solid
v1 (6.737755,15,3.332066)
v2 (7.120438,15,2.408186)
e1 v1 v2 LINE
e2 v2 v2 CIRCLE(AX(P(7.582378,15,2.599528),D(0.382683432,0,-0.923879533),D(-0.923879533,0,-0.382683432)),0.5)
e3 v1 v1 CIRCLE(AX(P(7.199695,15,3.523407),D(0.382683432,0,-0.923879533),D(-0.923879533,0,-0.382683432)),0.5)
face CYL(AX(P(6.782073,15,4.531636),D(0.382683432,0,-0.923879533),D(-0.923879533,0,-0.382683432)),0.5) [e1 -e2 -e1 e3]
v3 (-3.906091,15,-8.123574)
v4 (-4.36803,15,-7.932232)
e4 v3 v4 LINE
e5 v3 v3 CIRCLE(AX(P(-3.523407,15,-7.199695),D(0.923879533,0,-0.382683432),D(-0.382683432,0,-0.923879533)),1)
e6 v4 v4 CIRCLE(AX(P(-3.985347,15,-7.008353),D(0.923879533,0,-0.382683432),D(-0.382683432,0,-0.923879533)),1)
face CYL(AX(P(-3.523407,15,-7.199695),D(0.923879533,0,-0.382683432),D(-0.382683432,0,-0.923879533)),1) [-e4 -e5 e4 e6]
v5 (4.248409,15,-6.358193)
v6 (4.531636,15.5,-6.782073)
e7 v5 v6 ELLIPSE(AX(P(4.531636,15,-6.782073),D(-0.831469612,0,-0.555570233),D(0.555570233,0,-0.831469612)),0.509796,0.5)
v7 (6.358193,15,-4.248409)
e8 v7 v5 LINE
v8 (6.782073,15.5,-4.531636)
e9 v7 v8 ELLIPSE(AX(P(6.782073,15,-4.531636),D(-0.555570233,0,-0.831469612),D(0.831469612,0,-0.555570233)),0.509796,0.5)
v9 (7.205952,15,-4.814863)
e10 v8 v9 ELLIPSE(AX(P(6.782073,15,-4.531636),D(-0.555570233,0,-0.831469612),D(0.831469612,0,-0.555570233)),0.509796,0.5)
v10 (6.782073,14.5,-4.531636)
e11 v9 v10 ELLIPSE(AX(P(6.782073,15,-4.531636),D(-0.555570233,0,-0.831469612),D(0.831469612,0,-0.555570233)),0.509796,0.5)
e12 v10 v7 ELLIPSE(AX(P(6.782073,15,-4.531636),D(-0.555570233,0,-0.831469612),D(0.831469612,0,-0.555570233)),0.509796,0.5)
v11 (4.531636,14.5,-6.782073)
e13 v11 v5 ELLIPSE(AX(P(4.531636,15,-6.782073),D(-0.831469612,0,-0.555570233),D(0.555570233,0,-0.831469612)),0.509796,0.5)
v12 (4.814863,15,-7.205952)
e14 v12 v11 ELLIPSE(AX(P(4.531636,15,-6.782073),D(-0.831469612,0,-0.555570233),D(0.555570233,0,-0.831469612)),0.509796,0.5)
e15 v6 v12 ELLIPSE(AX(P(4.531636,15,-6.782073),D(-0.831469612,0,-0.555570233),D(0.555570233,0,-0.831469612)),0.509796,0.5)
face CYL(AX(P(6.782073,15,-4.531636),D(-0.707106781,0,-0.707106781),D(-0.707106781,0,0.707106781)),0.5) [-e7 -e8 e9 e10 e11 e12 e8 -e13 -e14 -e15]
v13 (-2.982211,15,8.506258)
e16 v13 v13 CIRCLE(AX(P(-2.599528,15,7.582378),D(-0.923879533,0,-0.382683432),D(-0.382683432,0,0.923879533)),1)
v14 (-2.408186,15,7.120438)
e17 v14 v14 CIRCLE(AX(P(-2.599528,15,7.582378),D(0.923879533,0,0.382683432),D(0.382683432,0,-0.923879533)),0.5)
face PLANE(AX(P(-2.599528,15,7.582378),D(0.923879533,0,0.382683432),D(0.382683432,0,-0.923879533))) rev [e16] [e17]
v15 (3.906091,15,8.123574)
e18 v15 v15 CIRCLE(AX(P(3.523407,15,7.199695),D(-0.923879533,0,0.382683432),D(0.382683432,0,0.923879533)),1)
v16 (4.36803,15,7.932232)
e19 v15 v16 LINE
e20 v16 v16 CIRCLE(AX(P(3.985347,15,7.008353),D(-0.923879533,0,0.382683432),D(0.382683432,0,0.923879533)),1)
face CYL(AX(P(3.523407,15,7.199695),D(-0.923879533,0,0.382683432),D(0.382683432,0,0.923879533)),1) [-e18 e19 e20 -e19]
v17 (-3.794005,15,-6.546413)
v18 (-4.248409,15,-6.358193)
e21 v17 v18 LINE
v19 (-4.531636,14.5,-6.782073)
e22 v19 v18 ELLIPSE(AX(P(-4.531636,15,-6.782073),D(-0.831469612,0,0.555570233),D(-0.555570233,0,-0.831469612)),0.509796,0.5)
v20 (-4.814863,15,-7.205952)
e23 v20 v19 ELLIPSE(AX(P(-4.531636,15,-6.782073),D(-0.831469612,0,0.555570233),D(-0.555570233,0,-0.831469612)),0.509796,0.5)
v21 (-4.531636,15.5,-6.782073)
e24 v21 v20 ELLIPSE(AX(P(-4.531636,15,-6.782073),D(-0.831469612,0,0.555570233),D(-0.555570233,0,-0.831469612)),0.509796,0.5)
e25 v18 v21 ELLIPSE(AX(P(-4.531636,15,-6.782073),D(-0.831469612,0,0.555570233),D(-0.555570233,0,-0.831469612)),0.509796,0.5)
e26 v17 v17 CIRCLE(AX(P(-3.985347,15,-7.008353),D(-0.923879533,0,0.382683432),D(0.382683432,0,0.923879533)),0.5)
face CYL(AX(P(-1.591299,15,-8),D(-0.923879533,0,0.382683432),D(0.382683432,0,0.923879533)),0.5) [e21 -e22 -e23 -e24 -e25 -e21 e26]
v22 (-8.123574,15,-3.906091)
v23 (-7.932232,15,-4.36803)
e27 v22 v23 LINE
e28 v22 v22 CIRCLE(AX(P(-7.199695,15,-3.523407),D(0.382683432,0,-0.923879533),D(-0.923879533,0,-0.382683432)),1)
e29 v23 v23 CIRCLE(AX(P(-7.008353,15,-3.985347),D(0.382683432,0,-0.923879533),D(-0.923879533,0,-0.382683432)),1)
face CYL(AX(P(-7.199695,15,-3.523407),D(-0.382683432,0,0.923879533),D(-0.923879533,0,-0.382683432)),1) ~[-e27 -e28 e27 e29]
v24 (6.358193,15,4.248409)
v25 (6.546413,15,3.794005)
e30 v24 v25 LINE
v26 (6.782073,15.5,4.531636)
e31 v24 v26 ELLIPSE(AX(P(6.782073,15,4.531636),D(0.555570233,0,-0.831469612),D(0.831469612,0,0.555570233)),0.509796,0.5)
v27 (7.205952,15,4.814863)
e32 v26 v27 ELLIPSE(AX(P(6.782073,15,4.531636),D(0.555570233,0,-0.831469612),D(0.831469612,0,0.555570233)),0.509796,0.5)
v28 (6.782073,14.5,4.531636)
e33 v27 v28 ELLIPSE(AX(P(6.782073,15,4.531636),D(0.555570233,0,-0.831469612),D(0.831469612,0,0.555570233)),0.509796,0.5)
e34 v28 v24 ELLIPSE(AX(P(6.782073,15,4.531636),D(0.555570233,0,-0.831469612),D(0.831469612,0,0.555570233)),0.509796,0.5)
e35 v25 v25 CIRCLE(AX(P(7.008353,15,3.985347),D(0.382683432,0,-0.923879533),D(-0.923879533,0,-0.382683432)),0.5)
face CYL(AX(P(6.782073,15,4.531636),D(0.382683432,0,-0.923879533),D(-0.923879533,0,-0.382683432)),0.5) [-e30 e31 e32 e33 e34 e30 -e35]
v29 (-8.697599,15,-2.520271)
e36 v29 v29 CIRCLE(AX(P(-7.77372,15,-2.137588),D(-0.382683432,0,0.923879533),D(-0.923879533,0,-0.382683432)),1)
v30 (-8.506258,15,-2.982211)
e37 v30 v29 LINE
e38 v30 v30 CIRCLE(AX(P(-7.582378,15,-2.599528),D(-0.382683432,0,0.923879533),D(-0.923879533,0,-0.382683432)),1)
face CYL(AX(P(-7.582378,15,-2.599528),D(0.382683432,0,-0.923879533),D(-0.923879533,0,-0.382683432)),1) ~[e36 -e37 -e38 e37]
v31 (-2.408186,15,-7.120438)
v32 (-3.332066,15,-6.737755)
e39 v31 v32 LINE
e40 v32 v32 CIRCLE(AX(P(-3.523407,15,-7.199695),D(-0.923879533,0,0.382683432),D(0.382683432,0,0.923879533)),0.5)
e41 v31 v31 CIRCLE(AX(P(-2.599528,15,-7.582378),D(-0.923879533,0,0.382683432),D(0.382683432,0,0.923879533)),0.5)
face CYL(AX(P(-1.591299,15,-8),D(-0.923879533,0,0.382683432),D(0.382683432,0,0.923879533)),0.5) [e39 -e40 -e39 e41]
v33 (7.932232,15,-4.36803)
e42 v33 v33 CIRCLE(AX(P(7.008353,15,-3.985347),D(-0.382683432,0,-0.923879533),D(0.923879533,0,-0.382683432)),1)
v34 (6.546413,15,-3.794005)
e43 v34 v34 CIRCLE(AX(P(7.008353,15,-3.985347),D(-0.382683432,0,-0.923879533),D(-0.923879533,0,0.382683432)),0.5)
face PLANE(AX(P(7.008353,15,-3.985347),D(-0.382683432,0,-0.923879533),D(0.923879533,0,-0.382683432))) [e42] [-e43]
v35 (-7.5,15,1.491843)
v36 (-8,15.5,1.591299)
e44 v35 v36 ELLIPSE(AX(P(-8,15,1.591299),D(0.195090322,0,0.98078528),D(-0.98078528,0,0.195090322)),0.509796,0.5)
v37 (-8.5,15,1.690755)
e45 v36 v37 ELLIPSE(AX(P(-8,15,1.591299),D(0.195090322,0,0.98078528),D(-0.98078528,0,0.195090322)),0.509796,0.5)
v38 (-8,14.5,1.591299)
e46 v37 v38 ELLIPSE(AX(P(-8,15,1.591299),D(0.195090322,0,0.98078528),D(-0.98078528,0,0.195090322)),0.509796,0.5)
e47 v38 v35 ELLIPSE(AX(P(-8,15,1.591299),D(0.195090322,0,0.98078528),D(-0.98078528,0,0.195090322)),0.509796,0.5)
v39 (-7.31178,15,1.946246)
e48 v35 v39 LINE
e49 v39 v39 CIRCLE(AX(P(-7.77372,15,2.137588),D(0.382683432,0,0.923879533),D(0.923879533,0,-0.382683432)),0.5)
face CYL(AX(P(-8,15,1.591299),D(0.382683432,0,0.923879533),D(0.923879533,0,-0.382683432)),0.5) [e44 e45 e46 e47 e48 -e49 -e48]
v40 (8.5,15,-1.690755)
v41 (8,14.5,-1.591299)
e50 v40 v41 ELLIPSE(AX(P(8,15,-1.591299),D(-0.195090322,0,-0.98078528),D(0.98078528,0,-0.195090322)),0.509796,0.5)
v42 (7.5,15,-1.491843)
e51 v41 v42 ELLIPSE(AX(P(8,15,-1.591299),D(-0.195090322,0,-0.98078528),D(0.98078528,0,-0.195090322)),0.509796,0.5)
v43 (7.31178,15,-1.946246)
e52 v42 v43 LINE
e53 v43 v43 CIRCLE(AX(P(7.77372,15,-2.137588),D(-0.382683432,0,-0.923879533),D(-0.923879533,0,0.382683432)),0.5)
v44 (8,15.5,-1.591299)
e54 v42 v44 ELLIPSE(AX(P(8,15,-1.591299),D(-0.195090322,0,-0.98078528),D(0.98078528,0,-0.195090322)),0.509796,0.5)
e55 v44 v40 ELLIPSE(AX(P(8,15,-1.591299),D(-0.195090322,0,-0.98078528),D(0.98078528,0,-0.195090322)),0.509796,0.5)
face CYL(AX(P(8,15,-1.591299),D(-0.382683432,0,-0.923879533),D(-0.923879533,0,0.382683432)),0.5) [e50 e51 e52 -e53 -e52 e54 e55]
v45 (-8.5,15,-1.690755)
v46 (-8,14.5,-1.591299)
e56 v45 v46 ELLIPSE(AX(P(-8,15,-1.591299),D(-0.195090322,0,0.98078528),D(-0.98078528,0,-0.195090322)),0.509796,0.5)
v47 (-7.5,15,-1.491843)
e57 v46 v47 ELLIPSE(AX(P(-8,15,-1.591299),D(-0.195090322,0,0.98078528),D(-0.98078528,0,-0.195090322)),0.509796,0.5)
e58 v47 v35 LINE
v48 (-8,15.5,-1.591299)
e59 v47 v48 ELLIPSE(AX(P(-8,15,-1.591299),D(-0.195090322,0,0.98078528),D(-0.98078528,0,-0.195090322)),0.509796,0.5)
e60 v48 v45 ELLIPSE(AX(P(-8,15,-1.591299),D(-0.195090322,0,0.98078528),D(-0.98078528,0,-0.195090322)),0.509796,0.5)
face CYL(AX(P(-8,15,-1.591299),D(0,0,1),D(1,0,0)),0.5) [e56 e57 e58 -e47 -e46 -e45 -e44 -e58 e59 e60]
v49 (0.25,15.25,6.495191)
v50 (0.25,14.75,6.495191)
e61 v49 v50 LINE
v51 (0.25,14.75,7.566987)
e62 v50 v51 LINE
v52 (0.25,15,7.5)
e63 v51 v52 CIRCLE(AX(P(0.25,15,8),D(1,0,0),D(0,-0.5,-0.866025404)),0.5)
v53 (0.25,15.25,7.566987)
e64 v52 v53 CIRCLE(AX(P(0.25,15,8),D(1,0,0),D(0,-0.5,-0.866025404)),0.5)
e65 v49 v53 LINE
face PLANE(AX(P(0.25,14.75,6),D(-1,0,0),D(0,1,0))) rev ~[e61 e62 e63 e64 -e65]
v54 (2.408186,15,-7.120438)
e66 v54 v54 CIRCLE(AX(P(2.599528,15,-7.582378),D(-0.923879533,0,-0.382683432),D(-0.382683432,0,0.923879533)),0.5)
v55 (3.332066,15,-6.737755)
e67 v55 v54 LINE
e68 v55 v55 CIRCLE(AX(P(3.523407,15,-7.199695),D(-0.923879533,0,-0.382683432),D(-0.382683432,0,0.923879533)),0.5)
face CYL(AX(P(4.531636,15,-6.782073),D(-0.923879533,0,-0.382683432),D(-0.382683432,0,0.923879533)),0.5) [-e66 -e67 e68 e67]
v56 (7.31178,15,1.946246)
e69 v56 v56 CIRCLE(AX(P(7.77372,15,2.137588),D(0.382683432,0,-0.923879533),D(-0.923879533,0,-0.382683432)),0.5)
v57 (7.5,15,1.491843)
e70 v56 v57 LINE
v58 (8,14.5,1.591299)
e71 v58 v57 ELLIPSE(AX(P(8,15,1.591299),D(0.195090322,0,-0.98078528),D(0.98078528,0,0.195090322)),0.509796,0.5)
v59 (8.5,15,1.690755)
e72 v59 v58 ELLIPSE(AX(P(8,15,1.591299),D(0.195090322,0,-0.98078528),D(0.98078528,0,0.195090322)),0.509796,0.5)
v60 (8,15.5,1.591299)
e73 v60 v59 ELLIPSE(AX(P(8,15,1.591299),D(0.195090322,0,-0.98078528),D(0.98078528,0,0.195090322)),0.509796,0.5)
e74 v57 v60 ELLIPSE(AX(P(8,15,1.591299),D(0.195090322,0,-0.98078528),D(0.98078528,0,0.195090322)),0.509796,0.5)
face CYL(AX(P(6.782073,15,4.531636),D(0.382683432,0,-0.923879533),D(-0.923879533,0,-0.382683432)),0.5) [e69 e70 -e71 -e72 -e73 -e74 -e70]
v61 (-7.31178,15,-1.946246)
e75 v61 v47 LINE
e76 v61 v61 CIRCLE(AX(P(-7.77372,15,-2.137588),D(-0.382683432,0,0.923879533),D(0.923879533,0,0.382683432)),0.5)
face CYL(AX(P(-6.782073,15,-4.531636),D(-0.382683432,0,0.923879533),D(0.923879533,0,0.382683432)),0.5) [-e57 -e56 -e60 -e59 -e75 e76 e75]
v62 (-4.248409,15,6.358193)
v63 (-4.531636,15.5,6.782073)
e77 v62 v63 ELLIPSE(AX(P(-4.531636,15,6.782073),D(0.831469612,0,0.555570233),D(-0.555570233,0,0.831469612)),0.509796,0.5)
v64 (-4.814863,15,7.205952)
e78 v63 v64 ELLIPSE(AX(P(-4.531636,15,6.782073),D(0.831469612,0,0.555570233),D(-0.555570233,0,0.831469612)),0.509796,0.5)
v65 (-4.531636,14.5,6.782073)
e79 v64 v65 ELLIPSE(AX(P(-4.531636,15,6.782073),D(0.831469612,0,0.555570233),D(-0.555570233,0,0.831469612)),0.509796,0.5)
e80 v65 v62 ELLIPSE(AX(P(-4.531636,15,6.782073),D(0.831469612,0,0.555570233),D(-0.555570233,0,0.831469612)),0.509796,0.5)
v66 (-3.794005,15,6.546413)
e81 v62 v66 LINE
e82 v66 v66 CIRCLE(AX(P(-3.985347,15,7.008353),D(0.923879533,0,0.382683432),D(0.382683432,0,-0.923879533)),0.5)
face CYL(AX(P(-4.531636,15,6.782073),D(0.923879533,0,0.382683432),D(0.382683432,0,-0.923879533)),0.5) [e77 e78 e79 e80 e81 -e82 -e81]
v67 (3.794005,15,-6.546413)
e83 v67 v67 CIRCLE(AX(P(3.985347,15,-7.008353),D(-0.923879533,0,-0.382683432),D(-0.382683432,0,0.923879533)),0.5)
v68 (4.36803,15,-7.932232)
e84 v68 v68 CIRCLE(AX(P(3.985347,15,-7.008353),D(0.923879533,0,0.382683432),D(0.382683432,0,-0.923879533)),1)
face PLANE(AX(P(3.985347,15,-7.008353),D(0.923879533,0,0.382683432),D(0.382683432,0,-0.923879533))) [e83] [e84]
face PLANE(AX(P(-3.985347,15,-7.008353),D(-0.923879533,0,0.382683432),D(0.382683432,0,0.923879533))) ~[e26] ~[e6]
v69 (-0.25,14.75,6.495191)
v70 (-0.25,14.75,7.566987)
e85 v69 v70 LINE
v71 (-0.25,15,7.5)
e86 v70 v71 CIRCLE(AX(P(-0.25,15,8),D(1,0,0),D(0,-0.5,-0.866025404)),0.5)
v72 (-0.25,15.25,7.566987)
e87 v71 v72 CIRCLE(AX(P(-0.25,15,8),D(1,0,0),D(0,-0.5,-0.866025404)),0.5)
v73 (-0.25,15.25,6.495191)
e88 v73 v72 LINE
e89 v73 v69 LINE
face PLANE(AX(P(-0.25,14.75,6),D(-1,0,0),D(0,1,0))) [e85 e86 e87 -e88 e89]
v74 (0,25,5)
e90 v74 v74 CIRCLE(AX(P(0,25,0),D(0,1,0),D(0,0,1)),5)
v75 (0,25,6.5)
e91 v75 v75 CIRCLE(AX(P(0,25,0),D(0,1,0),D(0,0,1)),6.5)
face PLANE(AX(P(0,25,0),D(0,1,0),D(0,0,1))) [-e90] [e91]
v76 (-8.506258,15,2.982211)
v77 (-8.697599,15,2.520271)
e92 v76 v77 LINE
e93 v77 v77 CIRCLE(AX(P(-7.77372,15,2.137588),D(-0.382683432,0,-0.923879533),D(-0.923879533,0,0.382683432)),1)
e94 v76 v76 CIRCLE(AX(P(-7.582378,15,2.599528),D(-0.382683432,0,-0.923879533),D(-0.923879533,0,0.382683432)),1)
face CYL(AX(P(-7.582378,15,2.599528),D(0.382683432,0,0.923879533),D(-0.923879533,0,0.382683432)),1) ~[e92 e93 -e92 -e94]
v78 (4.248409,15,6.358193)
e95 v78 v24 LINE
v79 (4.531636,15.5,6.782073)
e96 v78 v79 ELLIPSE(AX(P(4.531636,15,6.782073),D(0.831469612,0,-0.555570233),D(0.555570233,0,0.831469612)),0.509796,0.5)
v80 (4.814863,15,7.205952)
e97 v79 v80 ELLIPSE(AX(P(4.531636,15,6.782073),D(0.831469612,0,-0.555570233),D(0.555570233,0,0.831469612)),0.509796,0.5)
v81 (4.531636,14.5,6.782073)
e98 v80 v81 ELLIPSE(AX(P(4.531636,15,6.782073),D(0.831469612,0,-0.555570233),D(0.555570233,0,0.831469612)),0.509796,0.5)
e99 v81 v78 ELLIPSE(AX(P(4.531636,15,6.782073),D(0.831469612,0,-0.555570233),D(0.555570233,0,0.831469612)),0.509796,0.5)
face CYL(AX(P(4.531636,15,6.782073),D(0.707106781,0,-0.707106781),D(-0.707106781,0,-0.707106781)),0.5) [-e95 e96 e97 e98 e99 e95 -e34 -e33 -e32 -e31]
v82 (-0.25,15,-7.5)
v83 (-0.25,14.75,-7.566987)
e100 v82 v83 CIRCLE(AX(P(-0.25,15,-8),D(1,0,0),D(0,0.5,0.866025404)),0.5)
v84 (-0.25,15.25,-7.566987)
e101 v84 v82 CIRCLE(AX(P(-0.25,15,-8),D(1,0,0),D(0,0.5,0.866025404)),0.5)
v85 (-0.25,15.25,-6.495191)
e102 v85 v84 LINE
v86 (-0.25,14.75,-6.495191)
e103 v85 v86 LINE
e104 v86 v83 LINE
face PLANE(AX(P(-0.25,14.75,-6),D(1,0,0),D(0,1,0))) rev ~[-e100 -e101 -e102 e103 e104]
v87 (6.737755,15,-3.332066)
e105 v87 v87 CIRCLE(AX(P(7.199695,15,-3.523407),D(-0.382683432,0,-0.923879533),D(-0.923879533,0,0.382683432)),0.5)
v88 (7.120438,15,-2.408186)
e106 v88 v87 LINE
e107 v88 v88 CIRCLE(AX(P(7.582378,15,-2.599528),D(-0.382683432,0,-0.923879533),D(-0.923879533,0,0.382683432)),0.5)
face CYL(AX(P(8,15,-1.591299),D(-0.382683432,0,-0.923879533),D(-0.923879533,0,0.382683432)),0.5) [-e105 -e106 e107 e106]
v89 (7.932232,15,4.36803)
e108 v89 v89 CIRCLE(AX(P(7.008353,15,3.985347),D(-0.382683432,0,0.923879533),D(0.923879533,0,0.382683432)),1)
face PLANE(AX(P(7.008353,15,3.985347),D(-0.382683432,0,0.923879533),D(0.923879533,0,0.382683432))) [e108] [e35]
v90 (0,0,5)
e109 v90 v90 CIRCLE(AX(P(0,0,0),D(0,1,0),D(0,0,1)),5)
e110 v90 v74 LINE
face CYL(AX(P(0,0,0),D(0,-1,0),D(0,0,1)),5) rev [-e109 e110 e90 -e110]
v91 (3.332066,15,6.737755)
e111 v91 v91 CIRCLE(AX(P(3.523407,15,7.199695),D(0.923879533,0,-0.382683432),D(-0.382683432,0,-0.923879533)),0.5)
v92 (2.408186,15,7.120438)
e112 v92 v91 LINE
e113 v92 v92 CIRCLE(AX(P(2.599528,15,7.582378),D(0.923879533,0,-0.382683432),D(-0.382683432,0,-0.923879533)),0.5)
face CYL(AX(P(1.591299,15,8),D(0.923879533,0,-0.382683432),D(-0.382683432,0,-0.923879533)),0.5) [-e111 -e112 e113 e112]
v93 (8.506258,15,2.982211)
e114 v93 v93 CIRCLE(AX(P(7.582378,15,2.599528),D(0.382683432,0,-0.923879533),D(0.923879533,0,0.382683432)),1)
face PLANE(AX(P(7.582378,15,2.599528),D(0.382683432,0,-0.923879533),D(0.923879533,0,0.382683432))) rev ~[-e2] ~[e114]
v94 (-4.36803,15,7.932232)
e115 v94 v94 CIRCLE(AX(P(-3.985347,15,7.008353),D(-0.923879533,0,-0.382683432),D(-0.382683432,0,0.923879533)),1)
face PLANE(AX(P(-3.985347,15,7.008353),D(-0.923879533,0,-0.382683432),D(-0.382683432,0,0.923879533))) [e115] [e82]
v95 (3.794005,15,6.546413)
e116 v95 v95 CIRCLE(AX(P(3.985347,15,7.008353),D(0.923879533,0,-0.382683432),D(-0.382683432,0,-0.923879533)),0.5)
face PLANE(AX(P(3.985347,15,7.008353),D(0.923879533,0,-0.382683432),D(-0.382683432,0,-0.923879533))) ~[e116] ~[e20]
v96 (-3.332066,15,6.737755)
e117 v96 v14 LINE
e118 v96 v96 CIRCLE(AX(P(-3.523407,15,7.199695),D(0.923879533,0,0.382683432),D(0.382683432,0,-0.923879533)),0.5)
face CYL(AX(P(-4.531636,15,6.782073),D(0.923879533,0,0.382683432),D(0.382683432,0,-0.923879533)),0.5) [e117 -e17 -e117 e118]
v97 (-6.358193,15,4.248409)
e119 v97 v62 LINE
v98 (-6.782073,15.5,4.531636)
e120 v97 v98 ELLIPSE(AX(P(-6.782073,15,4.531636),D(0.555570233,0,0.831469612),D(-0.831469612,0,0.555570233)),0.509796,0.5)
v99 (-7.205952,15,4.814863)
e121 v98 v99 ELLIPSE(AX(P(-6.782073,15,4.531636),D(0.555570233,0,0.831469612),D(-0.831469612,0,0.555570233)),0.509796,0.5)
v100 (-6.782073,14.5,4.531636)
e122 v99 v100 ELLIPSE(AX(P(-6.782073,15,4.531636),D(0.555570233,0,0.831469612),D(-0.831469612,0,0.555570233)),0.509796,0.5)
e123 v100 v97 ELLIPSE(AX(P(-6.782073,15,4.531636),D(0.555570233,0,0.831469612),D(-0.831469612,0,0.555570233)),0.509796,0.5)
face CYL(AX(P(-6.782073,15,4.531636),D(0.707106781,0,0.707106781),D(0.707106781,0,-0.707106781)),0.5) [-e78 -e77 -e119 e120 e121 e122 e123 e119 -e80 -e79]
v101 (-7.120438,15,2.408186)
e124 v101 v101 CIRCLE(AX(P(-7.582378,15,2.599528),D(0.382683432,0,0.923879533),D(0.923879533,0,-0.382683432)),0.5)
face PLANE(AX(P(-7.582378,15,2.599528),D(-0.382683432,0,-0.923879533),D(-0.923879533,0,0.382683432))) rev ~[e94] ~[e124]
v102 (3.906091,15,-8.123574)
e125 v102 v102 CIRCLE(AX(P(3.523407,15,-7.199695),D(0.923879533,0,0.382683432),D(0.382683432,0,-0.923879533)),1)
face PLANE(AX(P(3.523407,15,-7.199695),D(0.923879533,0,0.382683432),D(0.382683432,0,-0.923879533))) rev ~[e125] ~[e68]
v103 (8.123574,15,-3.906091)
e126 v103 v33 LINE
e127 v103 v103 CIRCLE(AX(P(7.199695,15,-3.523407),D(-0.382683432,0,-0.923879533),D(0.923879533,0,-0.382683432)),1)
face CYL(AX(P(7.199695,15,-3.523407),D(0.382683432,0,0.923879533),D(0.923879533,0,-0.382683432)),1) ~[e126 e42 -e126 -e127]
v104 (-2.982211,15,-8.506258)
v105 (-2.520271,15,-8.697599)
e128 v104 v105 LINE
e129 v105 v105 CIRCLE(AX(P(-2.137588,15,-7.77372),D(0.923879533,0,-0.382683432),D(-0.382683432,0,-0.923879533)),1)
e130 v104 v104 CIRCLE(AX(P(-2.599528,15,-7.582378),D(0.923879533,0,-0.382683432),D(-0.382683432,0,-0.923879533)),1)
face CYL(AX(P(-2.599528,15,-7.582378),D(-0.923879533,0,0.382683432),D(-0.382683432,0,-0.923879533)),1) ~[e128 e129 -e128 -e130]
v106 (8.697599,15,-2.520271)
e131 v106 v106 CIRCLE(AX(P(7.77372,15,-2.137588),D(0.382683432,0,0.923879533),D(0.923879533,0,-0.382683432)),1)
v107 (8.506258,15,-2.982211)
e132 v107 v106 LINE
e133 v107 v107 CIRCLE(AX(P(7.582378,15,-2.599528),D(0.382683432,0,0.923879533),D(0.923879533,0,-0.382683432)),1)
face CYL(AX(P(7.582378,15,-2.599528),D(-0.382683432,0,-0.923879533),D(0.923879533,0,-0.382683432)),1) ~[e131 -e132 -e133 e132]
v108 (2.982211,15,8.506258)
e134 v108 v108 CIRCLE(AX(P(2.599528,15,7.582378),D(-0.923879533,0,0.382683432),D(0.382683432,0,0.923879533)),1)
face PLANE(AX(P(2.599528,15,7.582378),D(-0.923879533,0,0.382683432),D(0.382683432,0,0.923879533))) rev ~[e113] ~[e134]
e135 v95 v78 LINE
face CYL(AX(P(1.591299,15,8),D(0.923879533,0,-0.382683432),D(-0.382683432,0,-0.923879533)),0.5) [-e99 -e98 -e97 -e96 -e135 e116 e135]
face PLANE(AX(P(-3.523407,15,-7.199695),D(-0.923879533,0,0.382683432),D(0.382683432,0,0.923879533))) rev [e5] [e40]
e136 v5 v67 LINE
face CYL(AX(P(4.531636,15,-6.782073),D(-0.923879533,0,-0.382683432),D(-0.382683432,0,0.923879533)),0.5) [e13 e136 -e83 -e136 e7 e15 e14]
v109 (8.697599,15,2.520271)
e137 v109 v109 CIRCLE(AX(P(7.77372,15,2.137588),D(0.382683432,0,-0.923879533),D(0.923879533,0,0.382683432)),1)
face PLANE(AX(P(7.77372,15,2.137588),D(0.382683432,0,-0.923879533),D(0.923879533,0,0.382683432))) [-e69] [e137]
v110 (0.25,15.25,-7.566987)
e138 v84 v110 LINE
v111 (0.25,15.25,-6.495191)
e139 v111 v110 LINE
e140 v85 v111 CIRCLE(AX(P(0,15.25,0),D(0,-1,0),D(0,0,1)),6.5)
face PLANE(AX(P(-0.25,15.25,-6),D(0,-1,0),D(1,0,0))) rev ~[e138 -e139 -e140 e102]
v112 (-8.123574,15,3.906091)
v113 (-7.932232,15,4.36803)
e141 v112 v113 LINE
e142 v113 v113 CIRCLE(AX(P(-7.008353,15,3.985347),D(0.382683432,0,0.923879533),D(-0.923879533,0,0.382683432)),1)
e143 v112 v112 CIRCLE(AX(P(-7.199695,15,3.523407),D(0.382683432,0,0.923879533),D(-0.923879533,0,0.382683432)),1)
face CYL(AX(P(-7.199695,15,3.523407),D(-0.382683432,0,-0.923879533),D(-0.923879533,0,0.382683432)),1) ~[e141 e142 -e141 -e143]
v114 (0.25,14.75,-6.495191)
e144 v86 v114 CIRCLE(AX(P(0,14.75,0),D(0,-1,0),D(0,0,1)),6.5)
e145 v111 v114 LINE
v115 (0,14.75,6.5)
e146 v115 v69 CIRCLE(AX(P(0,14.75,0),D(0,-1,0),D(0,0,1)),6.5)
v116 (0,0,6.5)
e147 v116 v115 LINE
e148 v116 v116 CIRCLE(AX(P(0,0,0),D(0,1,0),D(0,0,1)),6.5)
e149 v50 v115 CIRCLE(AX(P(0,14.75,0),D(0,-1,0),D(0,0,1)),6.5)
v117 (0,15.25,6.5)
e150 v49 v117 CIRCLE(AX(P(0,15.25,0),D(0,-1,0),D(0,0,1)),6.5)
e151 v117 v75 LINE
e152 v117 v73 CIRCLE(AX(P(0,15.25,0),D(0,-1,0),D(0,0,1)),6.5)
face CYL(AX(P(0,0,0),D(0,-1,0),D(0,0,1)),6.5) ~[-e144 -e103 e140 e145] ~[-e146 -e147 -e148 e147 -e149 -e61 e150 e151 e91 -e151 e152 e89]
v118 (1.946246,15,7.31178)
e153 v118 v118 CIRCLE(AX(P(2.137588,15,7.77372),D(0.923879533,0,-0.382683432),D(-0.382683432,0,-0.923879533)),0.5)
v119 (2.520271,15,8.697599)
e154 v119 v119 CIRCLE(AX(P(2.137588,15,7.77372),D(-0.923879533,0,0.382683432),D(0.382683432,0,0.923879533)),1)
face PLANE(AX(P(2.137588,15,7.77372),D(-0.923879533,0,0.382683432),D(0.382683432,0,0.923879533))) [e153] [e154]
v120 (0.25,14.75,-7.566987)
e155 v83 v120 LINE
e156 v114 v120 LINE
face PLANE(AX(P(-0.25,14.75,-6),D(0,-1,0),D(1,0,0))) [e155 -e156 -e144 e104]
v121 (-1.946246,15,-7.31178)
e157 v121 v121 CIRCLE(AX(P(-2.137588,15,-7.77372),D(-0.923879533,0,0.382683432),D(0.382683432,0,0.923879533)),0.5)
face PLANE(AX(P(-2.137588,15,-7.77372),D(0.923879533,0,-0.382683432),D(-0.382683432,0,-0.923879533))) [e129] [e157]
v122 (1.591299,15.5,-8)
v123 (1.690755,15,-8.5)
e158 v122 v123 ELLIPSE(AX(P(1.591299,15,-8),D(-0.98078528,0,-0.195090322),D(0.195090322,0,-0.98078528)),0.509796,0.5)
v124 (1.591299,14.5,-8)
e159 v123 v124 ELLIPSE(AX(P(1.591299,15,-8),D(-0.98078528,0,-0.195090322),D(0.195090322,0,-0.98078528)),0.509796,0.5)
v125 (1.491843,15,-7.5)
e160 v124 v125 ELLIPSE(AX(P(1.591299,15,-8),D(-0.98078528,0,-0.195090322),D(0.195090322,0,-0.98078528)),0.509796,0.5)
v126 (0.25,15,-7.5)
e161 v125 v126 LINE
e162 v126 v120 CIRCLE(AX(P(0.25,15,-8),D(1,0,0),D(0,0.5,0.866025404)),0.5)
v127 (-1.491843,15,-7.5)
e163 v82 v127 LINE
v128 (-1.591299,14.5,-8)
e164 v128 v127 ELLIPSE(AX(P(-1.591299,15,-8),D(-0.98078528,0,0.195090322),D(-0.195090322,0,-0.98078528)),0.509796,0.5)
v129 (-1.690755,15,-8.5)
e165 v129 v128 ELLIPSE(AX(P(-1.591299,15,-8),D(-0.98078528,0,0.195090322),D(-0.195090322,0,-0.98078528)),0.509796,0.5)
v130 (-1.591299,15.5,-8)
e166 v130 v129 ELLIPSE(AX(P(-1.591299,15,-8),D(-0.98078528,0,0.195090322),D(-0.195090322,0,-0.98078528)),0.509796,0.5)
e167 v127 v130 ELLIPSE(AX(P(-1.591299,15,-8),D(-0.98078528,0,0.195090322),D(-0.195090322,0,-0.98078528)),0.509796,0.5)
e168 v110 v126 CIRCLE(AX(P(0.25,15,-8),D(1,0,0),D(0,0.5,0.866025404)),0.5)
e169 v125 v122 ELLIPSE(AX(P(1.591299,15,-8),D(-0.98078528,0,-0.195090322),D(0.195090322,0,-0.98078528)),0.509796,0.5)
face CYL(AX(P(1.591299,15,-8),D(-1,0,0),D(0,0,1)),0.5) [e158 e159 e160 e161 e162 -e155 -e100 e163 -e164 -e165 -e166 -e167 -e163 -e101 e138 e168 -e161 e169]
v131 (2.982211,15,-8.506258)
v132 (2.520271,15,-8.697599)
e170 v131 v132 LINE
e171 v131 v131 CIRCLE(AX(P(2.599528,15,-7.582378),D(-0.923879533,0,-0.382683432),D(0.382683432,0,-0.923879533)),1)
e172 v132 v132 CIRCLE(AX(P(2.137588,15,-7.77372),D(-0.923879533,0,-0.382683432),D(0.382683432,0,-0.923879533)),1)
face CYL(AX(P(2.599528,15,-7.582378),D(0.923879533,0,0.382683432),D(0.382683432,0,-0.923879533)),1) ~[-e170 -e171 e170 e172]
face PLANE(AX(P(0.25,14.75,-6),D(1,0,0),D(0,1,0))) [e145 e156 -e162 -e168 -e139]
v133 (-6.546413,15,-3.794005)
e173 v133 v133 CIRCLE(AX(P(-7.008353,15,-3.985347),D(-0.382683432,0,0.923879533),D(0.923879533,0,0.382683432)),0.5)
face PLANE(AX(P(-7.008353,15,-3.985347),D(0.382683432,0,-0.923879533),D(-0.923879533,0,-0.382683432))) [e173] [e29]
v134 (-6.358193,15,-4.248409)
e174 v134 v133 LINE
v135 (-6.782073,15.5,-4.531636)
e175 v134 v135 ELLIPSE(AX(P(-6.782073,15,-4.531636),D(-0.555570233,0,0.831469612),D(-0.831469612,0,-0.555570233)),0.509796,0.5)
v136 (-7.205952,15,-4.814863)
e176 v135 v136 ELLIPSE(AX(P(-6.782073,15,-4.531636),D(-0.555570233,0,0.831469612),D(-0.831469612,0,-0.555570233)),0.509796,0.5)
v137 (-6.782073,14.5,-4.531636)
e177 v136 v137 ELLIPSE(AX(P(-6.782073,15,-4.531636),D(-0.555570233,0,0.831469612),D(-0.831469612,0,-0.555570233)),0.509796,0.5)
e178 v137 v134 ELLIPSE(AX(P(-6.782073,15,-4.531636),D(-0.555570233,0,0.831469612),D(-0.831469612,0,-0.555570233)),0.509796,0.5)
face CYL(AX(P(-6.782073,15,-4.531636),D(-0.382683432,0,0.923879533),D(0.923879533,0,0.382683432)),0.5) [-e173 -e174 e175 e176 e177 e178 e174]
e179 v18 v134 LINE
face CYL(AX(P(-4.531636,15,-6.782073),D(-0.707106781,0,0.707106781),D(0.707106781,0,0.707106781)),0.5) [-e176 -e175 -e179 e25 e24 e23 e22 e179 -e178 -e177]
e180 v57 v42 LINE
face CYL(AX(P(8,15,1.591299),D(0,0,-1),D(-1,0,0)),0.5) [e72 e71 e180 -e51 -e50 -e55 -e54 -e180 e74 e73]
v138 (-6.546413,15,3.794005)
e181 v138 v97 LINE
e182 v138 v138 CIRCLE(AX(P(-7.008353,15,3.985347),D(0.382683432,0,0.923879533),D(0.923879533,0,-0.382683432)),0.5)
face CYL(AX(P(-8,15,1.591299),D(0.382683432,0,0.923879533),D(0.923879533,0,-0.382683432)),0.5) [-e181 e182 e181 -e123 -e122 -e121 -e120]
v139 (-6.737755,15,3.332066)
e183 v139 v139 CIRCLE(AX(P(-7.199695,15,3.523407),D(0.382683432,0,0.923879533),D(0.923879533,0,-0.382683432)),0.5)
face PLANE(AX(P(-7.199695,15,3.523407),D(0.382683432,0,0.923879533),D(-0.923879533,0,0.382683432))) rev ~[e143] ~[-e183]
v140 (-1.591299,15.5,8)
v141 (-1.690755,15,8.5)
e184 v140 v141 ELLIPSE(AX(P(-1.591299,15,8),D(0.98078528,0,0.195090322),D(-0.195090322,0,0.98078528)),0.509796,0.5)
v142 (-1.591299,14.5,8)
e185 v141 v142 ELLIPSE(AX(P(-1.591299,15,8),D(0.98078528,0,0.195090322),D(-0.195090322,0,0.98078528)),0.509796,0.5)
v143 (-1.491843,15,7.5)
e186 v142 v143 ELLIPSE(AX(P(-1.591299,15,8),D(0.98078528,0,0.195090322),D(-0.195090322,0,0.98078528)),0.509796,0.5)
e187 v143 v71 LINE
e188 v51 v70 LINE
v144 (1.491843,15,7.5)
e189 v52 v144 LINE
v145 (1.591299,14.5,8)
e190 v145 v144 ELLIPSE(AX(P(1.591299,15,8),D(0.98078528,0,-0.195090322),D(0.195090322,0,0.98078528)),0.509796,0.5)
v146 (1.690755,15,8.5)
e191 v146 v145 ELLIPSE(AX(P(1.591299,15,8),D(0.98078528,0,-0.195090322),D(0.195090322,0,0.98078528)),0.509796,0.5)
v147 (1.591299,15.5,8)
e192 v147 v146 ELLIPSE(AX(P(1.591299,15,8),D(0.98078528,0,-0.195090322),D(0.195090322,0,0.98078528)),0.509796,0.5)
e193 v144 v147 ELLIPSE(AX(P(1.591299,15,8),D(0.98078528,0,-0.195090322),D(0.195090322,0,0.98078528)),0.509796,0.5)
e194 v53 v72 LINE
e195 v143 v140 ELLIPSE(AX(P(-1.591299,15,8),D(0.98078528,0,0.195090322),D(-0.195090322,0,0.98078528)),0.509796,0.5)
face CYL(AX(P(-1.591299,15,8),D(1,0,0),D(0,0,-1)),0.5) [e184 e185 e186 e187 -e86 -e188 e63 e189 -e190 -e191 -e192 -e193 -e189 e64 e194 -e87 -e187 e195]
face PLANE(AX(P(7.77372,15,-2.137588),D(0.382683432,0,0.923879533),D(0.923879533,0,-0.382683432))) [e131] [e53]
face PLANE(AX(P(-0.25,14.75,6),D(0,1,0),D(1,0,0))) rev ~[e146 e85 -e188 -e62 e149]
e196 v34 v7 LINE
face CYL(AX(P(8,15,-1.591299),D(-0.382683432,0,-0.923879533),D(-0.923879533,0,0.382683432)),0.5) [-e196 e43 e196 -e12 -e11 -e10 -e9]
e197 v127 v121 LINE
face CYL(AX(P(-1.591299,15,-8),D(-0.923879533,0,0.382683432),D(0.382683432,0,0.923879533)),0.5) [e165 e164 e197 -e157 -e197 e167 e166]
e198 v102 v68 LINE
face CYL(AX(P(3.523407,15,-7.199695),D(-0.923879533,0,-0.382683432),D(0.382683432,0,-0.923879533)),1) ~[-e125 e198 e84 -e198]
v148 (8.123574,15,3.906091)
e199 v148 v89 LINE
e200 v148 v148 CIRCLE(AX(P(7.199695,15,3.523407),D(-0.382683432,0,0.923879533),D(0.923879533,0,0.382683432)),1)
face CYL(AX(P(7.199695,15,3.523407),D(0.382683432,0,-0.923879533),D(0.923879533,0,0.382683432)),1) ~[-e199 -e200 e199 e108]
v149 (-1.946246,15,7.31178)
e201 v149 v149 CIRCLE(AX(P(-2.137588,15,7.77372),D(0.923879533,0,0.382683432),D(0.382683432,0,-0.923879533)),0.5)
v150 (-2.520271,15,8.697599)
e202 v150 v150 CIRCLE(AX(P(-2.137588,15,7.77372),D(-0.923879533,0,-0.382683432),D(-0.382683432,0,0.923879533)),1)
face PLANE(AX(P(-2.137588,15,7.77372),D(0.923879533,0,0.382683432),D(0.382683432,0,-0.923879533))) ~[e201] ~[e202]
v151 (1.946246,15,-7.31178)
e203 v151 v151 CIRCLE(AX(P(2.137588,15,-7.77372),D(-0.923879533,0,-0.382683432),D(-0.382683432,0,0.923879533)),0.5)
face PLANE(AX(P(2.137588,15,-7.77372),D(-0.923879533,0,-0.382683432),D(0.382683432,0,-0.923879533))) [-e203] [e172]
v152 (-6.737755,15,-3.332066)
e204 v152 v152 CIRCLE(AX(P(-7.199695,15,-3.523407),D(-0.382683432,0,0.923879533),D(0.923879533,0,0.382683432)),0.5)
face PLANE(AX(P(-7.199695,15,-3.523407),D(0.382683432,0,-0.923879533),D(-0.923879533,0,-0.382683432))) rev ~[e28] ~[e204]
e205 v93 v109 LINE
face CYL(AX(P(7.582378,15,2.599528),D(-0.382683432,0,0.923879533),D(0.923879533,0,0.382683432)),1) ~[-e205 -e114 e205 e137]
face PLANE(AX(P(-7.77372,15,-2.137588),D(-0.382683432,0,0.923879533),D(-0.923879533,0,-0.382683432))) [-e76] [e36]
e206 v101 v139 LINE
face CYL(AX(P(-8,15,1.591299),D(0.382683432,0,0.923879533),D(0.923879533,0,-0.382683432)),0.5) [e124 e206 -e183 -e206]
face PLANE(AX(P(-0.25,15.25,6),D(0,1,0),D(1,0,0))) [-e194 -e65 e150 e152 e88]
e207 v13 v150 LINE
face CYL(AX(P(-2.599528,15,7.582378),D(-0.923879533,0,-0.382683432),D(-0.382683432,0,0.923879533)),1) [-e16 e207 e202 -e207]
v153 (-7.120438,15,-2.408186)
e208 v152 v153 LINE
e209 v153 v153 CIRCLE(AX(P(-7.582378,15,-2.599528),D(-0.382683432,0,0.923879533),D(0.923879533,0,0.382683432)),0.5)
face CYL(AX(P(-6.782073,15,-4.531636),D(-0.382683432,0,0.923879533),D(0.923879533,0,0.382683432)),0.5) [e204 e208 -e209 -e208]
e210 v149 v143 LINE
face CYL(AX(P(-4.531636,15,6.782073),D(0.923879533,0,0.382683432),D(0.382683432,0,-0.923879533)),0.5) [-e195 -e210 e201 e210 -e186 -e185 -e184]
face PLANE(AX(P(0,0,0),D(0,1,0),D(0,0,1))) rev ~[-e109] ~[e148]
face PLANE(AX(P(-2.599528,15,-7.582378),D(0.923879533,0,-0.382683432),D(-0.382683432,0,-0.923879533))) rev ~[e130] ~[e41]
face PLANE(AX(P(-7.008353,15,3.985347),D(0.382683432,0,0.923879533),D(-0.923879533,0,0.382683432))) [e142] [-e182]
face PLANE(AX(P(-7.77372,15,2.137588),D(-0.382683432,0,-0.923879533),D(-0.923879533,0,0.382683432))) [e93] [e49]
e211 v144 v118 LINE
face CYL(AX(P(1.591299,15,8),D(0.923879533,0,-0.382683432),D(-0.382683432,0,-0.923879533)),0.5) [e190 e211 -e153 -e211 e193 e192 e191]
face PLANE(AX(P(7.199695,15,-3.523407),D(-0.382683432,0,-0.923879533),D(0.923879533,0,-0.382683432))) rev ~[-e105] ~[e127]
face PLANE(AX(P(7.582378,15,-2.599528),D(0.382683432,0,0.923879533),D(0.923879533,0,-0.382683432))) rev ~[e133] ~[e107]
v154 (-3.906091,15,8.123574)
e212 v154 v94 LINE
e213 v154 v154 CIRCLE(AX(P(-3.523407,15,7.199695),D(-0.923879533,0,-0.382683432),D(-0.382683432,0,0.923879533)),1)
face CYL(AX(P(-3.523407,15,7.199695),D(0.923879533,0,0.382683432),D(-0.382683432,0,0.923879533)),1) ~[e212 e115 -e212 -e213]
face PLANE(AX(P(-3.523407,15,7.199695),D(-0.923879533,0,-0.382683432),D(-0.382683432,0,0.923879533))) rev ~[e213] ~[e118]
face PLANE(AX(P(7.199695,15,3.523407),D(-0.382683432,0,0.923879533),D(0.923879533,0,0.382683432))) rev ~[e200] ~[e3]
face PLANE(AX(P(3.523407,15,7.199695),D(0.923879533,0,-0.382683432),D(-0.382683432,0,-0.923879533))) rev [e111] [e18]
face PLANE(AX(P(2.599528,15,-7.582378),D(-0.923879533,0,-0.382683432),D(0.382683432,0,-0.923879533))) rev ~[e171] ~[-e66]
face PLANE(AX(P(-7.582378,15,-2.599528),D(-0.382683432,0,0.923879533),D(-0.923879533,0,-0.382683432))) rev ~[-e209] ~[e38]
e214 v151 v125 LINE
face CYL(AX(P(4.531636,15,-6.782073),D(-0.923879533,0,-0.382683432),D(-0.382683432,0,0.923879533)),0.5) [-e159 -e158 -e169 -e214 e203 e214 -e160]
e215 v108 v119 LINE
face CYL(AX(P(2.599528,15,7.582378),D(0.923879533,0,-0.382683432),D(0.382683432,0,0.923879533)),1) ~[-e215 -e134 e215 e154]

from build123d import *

# Parameters (mm, degrees)
CROQUIS1_R                   = 6.5
CROQUIS1_R_2                 = 5
SALIENTE_EXTRUIR1_DEPTH      = 25
CROQUIS3_R                   = 0.5
SALIENTE_EXTRUIR2_REACH      = 32.125
SALIENTE_EXTRUIR2_END_RADIUS = 0.5
CROQUIS4_W                   = 0.5
CROQUIS4_H                   = 0.5
SALIENTE_EXTRUIR3_REACH      = 32.125
SALIENTE_EXTRUIR3_END_RADIUS = 0.5
CROQUIS6_W                   = 0.5
CROQUIS6_H                   = 0.5
CROQUIS9_R                   = 1
SALIENTE_EXTRUIR4_DEPTH      = 0.5
SIMETR_A2_COPY_1_SKETCH_R    = 1
SIMETR_A2_COPY_1_DEPTH       = 0.5
SIMETR_A3_COPY_1_SKETCH_R    = 1
SIMETR_A3_COPY_1_DEPTH       = 0.5
SIMETR_A3_COPY_2_SKETCH_R    = 1
SIMETR_A3_COPY_2_DEPTH       = 0.5
SIMETR_A3_COPY_3_SKETCH_R    = 1
SIMETR_A3_COPY_3_DEPTH       = 0.5
SIMETR_A4_COPY_1_SKETCH_R    = 1
SIMETR_A4_COPY_1_DEPTH       = 0.5
SIMETR_A4_COPY_2_SKETCH_R    = 1
SIMETR_A4_COPY_2_DEPTH       = 0.5
SIMETR_A4_COPY_3_SKETCH_R    = 1
SIMETR_A4_COPY_3_DEPTH       = 0.5
SIMETR_A4_COPY_4_SKETCH_R    = 1
SIMETR_A4_COPY_4_DEPTH       = 0.5
SIMETR_A4_COPY_5_SKETCH_R    = 1
SIMETR_A4_COPY_5_DEPTH       = 0.5
SIMETR_A4_COPY_6_SKETCH_R    = 1
SIMETR_A4_COPY_6_DEPTH       = 0.5
SIMETR_A4_COPY_7_SKETCH_R    = 1
SIMETR_A4_COPY_7_DEPTH       = 0.5
SIMETR_A4_COPY_8_SKETCH_R    = 1
SIMETR_A4_COPY_8_DEPTH       = 0.5
SIMETR_A5_COPY_1_SKETCH_R    = 1
SIMETR_A5_COPY_1_DEPTH       = 0.5
SIMETR_A5_COPY_2_SKETCH_R    = 1
SIMETR_A5_COPY_2_DEPTH       = 0.5
SIMETR_A5_COPY_3_SKETCH_R    = 1
SIMETR_A5_COPY_3_DEPTH       = 0.5
SIMETR_A5_COPY_4_SKETCH_R    = 1
SIMETR_A5_COPY_4_DEPTH       = 0.5
SIMETR_A5_COPY_5_SKETCH_R    = 1
SIMETR_A5_COPY_5_DEPTH       = 0.5
SIMETR_A5_COPY_6_SKETCH_R    = 1
SIMETR_A5_COPY_6_DEPTH       = 0.5
SIMETR_A5_COPY_7_SKETCH_R    = 1
SIMETR_A5_COPY_7_DEPTH       = 0.5
SIMETR_A5_COPY_8_SKETCH_R    = 1
SIMETR_A5_COPY_8_DEPTH       = 0.5
SIMETR_A5_COPY_9_SKETCH_R    = 1
SIMETR_A5_COPY_9_DEPTH       = 0.5


with BuildPart() as part:
    # Croquis1 → Saliente-Extruir1 (new body)
    with BuildSketch(Plane(origin=(0, 0, 0), x_dir=(1, 0, 0), z_dir=(0, 1, 0))):
        with Locations(Location((0, 0, 0), (0, 0, 270))):
            Circle(CROQUIS1_R)
        with Locations(Location((0, 0, 0), (0, 0, 270))):
            Circle(CROQUIS1_R_2, mode=Mode.SUBTRACT)
    extrude(amount=SALIENTE_EXTRUIR1_DEPTH)



with BuildPart() as body_2:
    # Barrer1: sweep along a path in Croquis2
    with BuildLine(Plane(origin=(0, 15, 0), x_dir=(1, 0, 0), z_dir=(0, 1, 0))) as barrer1_path:
        Line((-4.531635979, -6.78207252), (-1.591298939, -8))
        Line((-1.591298939, -8), (1.591298939, -8))
        Line((1.591298939, -8), (4.531635979, -6.78207252))
        Line((4.531635979, -6.78207252), (6.78207252, -4.531635979))
        Line((6.78207252, -4.531635979), (8, -1.591298939))
        Line((8, -1.591298939), (8, 1.591298939))
        Line((8, 1.591298939), (6.78207252, 4.531635979))
        Line((6.78207252, 4.531635979), (4.531635979, 6.78207252))
        Line((4.531635979, 6.78207252), (1.591298939, 8))
        Line((1.591298939, 8), (-1.591298939, 8))
        Line((-1.591298939, 8), (-4.531635979, 6.78207252))
        Line((-4.531635979, 6.78207252), (-6.78207252, 4.531635979))
        Line((-6.78207252, 4.531635979), (-8, 1.591298939))
        Line((-8, 1.591298939), (-8, -1.591298939))
        Line((-8, -1.591298939), (-6.78207252, -4.531635979))
        Line((-6.78207252, -4.531635979), (-4.531635979, -6.78207252))
    # Croquis3 → Barrer1 (sweep)
    with BuildSketch(Plane(origin=(0, 0, 0), x_dir=(0, 0, -1), z_dir=(1, 0, 0))):
        with Locations((-8, 15)):
            Circle(CROQUIS3_R)
    sweep(path=barrer1_path.line, transition=Transition.RIGHT)


with BuildPart() as part_1:
    add(part.part)

    add(body_2.part)  # Saliente-Extruir2 merges body 2
    # Saliente-Extruir2: up to this cylinder (the profile starts outside it)
    saliente_extruir2_end = Plane(origin=(0, 15, 8), z_dir=(-1, 0, 0)) * Cylinder(SALIENTE_EXTRUIR2_END_RADIUS, 66.25, mode=Mode.PRIVATE)
    # Croquis4 → Saliente-Extruir2 (add, up to the surface)
    with BuildSketch(Plane.XY.offset(6), mode=Mode.PRIVATE) as saliente_extruir2_sk1:
        with Locations((0, 15)):
            Rectangle(CROQUIS4_W, CROQUIS4_H)
    saliente_extruir2_tool1 = extrude(saliente_extruir2_sk1.sketch, amount=SALIENTE_EXTRUIR2_REACH, mode=Mode.PRIVATE) - saliente_extruir2_end
    add(saliente_extruir2_tool1.solids().sort_by_distance((0, 15, 6))[0])

    # Saliente-Extruir3: up to this cylinder (the profile starts outside it)
    saliente_extruir3_end = Plane(origin=(0, 15, -8), z_dir=(1, 0, 0)) * Cylinder(SALIENTE_EXTRUIR3_END_RADIUS, 66.25, mode=Mode.PRIVATE)
    # Croquis6 → Saliente-Extruir3 (add, up to the surface)
    with BuildSketch(Plane.XY.offset(-6), mode=Mode.PRIVATE) as saliente_extruir3_sk1:
        with Locations((0, 15)):
            Rectangle(CROQUIS6_W, CROQUIS6_H)
    saliente_extruir3_tool1 = extrude(saliente_extruir3_sk1.sketch, amount=-SALIENTE_EXTRUIR3_REACH, mode=Mode.PRIVATE) - saliente_extruir3_end
    add(saliente_extruir3_tool1.solids().sort_by_distance((0, 15, -6))[0])

    # Croquis9 → Saliente-Extruir4 (add)
    with BuildSketch(Plane(origin=(-0.461939766, 0, -0.191341716), x_dir=(-0.3826834323650839, 0, 0.9238795325112892), z_dir=(-0.9238795325112892, 0, -0.3826834323650839))):
        with Locations((8, 15)):
            Circle(CROQUIS9_R)
    saliente_extruir4 = extrude(amount=SALIENTE_EXTRUIR4_DEPTH)

    # Simetría1: Saliente-Extruir4 across plane
    add(saliente_extruir4.mirror(Plane(origin=(0, 0, 0), x_dir=(-0.3826834323650839, 0, 0.9238795325112891), z_dir=(-0.9238795325112892, 0, -0.3826834323650839))))

    # Simetría2: Saliente-Extruir4 across plane
    add(saliente_extruir4.mirror(Plane.XY))

    # Simetría2 copy 1 sketch → Simetría2 copy 1 (add)
    with BuildSketch(Plane(origin=(0.461939766, 0, -0.191341716), x_dir=(-0.38268343236508395, 0, -0.9238795325112892), z_dir=(0.9238795325112892, 0, -0.38268343236508395))):
        with Locations((8, 15)):
            Circle(SIMETR_A2_COPY_1_SKETCH_R)
    extrude(amount=SIMETR_A2_COPY_1_DEPTH)

    # Simetría3: Saliente-Extruir4 across plane
    add(saliente_extruir4.mirror(Plane(origin=(0, 0, 0), x_dir=(0, 0, 1), z_dir=(1, 0, 0))))

    # Simetría3 copy 1 sketch → Simetría3 copy 1 (add)
    with BuildSketch(Plane(origin=(-0.461939766, 0, 0.191341716), x_dir=(0.38268343236508395, 0, 0.9238795325112892), z_dir=(-0.9238795325112892, 0, 0.38268343236508395))):
        with Locations((8, 15)):
            Circle(SIMETR_A3_COPY_1_SKETCH_R)
    extrude(amount=SIMETR_A3_COPY_1_DEPTH)

    # Simetría3 copy 2 sketch → Simetría3 copy 2 (add)
    with BuildSketch(Plane(origin=(0.461939766, 0, 0.191341716), x_dir=(0.3826834323650839, 0, -0.9238795325112892), z_dir=(0.9238795325112892, 0, 0.3826834323650839))):
        with Locations((8, 15)):
            Circle(SIMETR_A3_COPY_2_SKETCH_R)
    extrude(amount=SIMETR_A3_COPY_2_DEPTH)

    # Simetría3 copy 3 sketch → Simetría3 copy 3 (add)
    with BuildSketch(Plane(origin=(-0.461939766, 0, -0.191341716), x_dir=(0.38268343236508395, 0, -0.9238795325112892), z_dir=(-0.9238795325112892, 0, -0.38268343236508395))):
        with Locations((8, -15)):
            Circle(SIMETR_A3_COPY_3_SKETCH_R)
    extrude(amount=SIMETR_A3_COPY_3_DEPTH)

    # Simetría4 copy 1 sketch → Simetría4 copy 1 (add)
    with BuildSketch(Plane(origin=(0.191341716, 0, 0.461939766), x_dir=(0.9238795325112795, 0, -0.3826834323651074), z_dir=(0.3826834323651074, 0, 0.9238795325112795))):
        with Locations((8, 15)):
            Circle(SIMETR_A4_COPY_1_SKETCH_R)
    extrude(amount=SIMETR_A4_COPY_1_DEPTH)

    # Simetría4 copy 2 sketch → Simetría4 copy 2 (add)
    with BuildSketch(Plane(origin=(-0.191341716, 0, -0.461939766), x_dir=(0.9238795325112796, 0, -0.3826834323651075), z_dir=(-0.3826834323651075, 0, -0.9238795325112796))):
        with Locations((8, -15)):
            Circle(SIMETR_A4_COPY_2_SKETCH_R)
    extrude(amount=SIMETR_A4_COPY_2_DEPTH)

    # Simetría4 copy 3 sketch → Simetría4 copy 3 (add)
    with BuildSketch(Plane(origin=(0.461939766, 0, 0.191341716), x_dir=(-0.38268343236508395, 0, 0.9238795325112892), z_dir=(0.9238795325112892, 0, 0.38268343236508395))):
        with Locations((8, -15)):
            Circle(SIMETR_A4_COPY_3_SKETCH_R)
    extrude(amount=SIMETR_A4_COPY_3_DEPTH)

    # Simetría4 copy 4 sketch → Simetría4 copy 4 (add)
    with BuildSketch(Plane(origin=(-0.191341716, 0, -0.461939766), x_dir=(-0.9238795325112795, 0, 0.3826834323651074), z_dir=(-0.3826834323651074, 0, -0.9238795325112795))):
        with Locations((8, 15)):
            Circle(SIMETR_A4_COPY_4_SKETCH_R)
    extrude(amount=SIMETR_A4_COPY_4_DEPTH)

    # Simetría4 copy 5 sketch → Simetría4 copy 5 (add)
    with BuildSketch(Plane(origin=(0.191341716, 0, 0.461939766), x_dir=(-0.9238795325112796, 0, 0.3826834323651075), z_dir=(0.3826834323651075, 0, 0.9238795325112796))):
        with Locations((8, -15)):
            Circle(SIMETR_A4_COPY_5_SKETCH_R)
    extrude(amount=SIMETR_A4_COPY_5_DEPTH)

    # Simetría4 copy 6 sketch → Simetría4 copy 6 (add)
    with BuildSketch(Plane(origin=(-0.461939766, 0, -0.191341716), x_dir=(0.38268343236508395, 0, -0.9238795325112892), z_dir=(-0.9238795325112892, 0, -0.38268343236508395))):
        with Locations((8, -15)):
            Circle(SIMETR_A4_COPY_6_SKETCH_R)
    extrude(amount=SIMETR_A4_COPY_6_DEPTH)

    # Simetría4 copy 7 sketch → Simetría4 copy 7 (add)
    with BuildSketch(Plane(origin=(0.461939766, 0, 0.191341716), x_dir=(0.3826834323650839, 0, -0.9238795325112892), z_dir=(0.9238795325112892, 0, 0.3826834323650839))):
        with Locations((8, 15)):
            Circle(SIMETR_A4_COPY_7_SKETCH_R)
    extrude(amount=SIMETR_A4_COPY_7_DEPTH)

    # Simetría4 copy 8 sketch → Simetría4 copy 8 (add)
    with BuildSketch(Plane(origin=(0.461939766, 0, 0.191341716), x_dir=(-0.38268343236508395, 0, 0.9238795325112892), z_dir=(0.9238795325112892, 0, 0.38268343236508395))):
        with Locations((8, -15)):
            Circle(SIMETR_A4_COPY_8_SKETCH_R)
    extrude(amount=SIMETR_A4_COPY_8_DEPTH)

    # Simetría5 copy 1 sketch → Simetría5 copy 1 (add)
    with BuildSketch(Plane(origin=(-0.191341716, 0, 0.461939766), x_dir=(-0.9238795325112795, 0, -0.3826834323651074), z_dir=(-0.3826834323651074, 0, 0.9238795325112795))):
        with Locations((8, -15)):
            Circle(SIMETR_A5_COPY_1_SKETCH_R)
    extrude(amount=SIMETR_A5_COPY_1_DEPTH)

    # Simetría5 copy 2 sketch → Simetría5 copy 2 (add)
    with BuildSketch(Plane(origin=(0.191341716, 0, -0.461939766), x_dir=(-0.9238795325112796, 0, -0.3826834323651075), z_dir=(0.3826834323651075, 0, -0.9238795325112796))):
        with Locations((8, 15)):
            Circle(SIMETR_A5_COPY_2_SKETCH_R)
    extrude(amount=SIMETR_A5_COPY_2_DEPTH)

    # Simetría5 copy 3 sketch → Simetría5 copy 3 (add)
    with BuildSketch(Plane(origin=(-0.461939766, 0, 0.191341716), x_dir=(0.38268343236508395, 0, 0.9238795325112892), z_dir=(-0.9238795325112892, 0, 0.38268343236508395))):
        with Locations((8, 15)):
            Circle(SIMETR_A5_COPY_3_SKETCH_R)
    extrude(amount=SIMETR_A5_COPY_3_DEPTH)

    # Simetría5 copy 4 sketch → Simetría5 copy 4 (add)
    with BuildSketch(Plane(origin=(0.191341716, 0, -0.461939766), x_dir=(0.9238795325112795, 0, 0.3826834323651074), z_dir=(0.3826834323651074, 0, -0.9238795325112795))):
        with Locations((8, -15)):
            Circle(SIMETR_A5_COPY_4_SKETCH_R)
    extrude(amount=SIMETR_A5_COPY_4_DEPTH)

    # Simetría5 copy 5 sketch → Simetría5 copy 5 (add)
    with BuildSketch(Plane(origin=(-0.191341716, 0, 0.461939766), x_dir=(0.9238795325112796, 0, 0.3826834323651075), z_dir=(-0.3826834323651075, 0, 0.9238795325112796))):
        with Locations((8, 15)):
            Circle(SIMETR_A5_COPY_5_SKETCH_R)
    extrude(amount=SIMETR_A5_COPY_5_DEPTH)

    # Simetría5 copy 6 sketch → Simetría5 copy 6 (add)
    with BuildSketch(Plane(origin=(0.461939766, 0, -0.191341716), x_dir=(-0.38268343236508395, 0, -0.9238795325112892), z_dir=(0.9238795325112892, 0, -0.38268343236508395))):
        with Locations((8, 15)):
            Circle(SIMETR_A5_COPY_6_SKETCH_R)
    extrude(amount=SIMETR_A5_COPY_6_DEPTH)

    # Simetría5 copy 7 sketch → Simetría5 copy 7 (add)
    with BuildSketch(Plane(origin=(-0.461939766, 0, 0.191341716), x_dir=(-0.3826834323650839, 0, -0.9238795325112892), z_dir=(-0.9238795325112892, 0, 0.3826834323650839))):
        with Locations((8, -15)):
            Circle(SIMETR_A5_COPY_7_SKETCH_R)
    extrude(amount=SIMETR_A5_COPY_7_DEPTH)

    # Simetría5 copy 8 sketch → Simetría5 copy 8 (add)
    with BuildSketch(Plane(origin=(-0.461939766, 0, 0.191341716), x_dir=(0.38268343236508395, 0, 0.9238795325112892), z_dir=(-0.9238795325112892, 0, 0.38268343236508395))):
        with Locations((8, 15)):
            Circle(SIMETR_A5_COPY_8_SKETCH_R)
    extrude(amount=SIMETR_A5_COPY_8_DEPTH)

    # Simetría5 copy 9 sketch → Simetría5 copy 9 (add)
    with BuildSketch(Plane(origin=(0.461939766, 0, -0.191341716), x_dir=(0.3826834323650839, 0, 0.9238795325112892), z_dir=(0.9238795325112892, 0, -0.3826834323650839))):
        with Locations((8, -15)):
            Circle(SIMETR_A5_COPY_9_SKETCH_R)
    extrude(amount=SIMETR_A5_COPY_9_DEPTH)


solid = part_1.part
